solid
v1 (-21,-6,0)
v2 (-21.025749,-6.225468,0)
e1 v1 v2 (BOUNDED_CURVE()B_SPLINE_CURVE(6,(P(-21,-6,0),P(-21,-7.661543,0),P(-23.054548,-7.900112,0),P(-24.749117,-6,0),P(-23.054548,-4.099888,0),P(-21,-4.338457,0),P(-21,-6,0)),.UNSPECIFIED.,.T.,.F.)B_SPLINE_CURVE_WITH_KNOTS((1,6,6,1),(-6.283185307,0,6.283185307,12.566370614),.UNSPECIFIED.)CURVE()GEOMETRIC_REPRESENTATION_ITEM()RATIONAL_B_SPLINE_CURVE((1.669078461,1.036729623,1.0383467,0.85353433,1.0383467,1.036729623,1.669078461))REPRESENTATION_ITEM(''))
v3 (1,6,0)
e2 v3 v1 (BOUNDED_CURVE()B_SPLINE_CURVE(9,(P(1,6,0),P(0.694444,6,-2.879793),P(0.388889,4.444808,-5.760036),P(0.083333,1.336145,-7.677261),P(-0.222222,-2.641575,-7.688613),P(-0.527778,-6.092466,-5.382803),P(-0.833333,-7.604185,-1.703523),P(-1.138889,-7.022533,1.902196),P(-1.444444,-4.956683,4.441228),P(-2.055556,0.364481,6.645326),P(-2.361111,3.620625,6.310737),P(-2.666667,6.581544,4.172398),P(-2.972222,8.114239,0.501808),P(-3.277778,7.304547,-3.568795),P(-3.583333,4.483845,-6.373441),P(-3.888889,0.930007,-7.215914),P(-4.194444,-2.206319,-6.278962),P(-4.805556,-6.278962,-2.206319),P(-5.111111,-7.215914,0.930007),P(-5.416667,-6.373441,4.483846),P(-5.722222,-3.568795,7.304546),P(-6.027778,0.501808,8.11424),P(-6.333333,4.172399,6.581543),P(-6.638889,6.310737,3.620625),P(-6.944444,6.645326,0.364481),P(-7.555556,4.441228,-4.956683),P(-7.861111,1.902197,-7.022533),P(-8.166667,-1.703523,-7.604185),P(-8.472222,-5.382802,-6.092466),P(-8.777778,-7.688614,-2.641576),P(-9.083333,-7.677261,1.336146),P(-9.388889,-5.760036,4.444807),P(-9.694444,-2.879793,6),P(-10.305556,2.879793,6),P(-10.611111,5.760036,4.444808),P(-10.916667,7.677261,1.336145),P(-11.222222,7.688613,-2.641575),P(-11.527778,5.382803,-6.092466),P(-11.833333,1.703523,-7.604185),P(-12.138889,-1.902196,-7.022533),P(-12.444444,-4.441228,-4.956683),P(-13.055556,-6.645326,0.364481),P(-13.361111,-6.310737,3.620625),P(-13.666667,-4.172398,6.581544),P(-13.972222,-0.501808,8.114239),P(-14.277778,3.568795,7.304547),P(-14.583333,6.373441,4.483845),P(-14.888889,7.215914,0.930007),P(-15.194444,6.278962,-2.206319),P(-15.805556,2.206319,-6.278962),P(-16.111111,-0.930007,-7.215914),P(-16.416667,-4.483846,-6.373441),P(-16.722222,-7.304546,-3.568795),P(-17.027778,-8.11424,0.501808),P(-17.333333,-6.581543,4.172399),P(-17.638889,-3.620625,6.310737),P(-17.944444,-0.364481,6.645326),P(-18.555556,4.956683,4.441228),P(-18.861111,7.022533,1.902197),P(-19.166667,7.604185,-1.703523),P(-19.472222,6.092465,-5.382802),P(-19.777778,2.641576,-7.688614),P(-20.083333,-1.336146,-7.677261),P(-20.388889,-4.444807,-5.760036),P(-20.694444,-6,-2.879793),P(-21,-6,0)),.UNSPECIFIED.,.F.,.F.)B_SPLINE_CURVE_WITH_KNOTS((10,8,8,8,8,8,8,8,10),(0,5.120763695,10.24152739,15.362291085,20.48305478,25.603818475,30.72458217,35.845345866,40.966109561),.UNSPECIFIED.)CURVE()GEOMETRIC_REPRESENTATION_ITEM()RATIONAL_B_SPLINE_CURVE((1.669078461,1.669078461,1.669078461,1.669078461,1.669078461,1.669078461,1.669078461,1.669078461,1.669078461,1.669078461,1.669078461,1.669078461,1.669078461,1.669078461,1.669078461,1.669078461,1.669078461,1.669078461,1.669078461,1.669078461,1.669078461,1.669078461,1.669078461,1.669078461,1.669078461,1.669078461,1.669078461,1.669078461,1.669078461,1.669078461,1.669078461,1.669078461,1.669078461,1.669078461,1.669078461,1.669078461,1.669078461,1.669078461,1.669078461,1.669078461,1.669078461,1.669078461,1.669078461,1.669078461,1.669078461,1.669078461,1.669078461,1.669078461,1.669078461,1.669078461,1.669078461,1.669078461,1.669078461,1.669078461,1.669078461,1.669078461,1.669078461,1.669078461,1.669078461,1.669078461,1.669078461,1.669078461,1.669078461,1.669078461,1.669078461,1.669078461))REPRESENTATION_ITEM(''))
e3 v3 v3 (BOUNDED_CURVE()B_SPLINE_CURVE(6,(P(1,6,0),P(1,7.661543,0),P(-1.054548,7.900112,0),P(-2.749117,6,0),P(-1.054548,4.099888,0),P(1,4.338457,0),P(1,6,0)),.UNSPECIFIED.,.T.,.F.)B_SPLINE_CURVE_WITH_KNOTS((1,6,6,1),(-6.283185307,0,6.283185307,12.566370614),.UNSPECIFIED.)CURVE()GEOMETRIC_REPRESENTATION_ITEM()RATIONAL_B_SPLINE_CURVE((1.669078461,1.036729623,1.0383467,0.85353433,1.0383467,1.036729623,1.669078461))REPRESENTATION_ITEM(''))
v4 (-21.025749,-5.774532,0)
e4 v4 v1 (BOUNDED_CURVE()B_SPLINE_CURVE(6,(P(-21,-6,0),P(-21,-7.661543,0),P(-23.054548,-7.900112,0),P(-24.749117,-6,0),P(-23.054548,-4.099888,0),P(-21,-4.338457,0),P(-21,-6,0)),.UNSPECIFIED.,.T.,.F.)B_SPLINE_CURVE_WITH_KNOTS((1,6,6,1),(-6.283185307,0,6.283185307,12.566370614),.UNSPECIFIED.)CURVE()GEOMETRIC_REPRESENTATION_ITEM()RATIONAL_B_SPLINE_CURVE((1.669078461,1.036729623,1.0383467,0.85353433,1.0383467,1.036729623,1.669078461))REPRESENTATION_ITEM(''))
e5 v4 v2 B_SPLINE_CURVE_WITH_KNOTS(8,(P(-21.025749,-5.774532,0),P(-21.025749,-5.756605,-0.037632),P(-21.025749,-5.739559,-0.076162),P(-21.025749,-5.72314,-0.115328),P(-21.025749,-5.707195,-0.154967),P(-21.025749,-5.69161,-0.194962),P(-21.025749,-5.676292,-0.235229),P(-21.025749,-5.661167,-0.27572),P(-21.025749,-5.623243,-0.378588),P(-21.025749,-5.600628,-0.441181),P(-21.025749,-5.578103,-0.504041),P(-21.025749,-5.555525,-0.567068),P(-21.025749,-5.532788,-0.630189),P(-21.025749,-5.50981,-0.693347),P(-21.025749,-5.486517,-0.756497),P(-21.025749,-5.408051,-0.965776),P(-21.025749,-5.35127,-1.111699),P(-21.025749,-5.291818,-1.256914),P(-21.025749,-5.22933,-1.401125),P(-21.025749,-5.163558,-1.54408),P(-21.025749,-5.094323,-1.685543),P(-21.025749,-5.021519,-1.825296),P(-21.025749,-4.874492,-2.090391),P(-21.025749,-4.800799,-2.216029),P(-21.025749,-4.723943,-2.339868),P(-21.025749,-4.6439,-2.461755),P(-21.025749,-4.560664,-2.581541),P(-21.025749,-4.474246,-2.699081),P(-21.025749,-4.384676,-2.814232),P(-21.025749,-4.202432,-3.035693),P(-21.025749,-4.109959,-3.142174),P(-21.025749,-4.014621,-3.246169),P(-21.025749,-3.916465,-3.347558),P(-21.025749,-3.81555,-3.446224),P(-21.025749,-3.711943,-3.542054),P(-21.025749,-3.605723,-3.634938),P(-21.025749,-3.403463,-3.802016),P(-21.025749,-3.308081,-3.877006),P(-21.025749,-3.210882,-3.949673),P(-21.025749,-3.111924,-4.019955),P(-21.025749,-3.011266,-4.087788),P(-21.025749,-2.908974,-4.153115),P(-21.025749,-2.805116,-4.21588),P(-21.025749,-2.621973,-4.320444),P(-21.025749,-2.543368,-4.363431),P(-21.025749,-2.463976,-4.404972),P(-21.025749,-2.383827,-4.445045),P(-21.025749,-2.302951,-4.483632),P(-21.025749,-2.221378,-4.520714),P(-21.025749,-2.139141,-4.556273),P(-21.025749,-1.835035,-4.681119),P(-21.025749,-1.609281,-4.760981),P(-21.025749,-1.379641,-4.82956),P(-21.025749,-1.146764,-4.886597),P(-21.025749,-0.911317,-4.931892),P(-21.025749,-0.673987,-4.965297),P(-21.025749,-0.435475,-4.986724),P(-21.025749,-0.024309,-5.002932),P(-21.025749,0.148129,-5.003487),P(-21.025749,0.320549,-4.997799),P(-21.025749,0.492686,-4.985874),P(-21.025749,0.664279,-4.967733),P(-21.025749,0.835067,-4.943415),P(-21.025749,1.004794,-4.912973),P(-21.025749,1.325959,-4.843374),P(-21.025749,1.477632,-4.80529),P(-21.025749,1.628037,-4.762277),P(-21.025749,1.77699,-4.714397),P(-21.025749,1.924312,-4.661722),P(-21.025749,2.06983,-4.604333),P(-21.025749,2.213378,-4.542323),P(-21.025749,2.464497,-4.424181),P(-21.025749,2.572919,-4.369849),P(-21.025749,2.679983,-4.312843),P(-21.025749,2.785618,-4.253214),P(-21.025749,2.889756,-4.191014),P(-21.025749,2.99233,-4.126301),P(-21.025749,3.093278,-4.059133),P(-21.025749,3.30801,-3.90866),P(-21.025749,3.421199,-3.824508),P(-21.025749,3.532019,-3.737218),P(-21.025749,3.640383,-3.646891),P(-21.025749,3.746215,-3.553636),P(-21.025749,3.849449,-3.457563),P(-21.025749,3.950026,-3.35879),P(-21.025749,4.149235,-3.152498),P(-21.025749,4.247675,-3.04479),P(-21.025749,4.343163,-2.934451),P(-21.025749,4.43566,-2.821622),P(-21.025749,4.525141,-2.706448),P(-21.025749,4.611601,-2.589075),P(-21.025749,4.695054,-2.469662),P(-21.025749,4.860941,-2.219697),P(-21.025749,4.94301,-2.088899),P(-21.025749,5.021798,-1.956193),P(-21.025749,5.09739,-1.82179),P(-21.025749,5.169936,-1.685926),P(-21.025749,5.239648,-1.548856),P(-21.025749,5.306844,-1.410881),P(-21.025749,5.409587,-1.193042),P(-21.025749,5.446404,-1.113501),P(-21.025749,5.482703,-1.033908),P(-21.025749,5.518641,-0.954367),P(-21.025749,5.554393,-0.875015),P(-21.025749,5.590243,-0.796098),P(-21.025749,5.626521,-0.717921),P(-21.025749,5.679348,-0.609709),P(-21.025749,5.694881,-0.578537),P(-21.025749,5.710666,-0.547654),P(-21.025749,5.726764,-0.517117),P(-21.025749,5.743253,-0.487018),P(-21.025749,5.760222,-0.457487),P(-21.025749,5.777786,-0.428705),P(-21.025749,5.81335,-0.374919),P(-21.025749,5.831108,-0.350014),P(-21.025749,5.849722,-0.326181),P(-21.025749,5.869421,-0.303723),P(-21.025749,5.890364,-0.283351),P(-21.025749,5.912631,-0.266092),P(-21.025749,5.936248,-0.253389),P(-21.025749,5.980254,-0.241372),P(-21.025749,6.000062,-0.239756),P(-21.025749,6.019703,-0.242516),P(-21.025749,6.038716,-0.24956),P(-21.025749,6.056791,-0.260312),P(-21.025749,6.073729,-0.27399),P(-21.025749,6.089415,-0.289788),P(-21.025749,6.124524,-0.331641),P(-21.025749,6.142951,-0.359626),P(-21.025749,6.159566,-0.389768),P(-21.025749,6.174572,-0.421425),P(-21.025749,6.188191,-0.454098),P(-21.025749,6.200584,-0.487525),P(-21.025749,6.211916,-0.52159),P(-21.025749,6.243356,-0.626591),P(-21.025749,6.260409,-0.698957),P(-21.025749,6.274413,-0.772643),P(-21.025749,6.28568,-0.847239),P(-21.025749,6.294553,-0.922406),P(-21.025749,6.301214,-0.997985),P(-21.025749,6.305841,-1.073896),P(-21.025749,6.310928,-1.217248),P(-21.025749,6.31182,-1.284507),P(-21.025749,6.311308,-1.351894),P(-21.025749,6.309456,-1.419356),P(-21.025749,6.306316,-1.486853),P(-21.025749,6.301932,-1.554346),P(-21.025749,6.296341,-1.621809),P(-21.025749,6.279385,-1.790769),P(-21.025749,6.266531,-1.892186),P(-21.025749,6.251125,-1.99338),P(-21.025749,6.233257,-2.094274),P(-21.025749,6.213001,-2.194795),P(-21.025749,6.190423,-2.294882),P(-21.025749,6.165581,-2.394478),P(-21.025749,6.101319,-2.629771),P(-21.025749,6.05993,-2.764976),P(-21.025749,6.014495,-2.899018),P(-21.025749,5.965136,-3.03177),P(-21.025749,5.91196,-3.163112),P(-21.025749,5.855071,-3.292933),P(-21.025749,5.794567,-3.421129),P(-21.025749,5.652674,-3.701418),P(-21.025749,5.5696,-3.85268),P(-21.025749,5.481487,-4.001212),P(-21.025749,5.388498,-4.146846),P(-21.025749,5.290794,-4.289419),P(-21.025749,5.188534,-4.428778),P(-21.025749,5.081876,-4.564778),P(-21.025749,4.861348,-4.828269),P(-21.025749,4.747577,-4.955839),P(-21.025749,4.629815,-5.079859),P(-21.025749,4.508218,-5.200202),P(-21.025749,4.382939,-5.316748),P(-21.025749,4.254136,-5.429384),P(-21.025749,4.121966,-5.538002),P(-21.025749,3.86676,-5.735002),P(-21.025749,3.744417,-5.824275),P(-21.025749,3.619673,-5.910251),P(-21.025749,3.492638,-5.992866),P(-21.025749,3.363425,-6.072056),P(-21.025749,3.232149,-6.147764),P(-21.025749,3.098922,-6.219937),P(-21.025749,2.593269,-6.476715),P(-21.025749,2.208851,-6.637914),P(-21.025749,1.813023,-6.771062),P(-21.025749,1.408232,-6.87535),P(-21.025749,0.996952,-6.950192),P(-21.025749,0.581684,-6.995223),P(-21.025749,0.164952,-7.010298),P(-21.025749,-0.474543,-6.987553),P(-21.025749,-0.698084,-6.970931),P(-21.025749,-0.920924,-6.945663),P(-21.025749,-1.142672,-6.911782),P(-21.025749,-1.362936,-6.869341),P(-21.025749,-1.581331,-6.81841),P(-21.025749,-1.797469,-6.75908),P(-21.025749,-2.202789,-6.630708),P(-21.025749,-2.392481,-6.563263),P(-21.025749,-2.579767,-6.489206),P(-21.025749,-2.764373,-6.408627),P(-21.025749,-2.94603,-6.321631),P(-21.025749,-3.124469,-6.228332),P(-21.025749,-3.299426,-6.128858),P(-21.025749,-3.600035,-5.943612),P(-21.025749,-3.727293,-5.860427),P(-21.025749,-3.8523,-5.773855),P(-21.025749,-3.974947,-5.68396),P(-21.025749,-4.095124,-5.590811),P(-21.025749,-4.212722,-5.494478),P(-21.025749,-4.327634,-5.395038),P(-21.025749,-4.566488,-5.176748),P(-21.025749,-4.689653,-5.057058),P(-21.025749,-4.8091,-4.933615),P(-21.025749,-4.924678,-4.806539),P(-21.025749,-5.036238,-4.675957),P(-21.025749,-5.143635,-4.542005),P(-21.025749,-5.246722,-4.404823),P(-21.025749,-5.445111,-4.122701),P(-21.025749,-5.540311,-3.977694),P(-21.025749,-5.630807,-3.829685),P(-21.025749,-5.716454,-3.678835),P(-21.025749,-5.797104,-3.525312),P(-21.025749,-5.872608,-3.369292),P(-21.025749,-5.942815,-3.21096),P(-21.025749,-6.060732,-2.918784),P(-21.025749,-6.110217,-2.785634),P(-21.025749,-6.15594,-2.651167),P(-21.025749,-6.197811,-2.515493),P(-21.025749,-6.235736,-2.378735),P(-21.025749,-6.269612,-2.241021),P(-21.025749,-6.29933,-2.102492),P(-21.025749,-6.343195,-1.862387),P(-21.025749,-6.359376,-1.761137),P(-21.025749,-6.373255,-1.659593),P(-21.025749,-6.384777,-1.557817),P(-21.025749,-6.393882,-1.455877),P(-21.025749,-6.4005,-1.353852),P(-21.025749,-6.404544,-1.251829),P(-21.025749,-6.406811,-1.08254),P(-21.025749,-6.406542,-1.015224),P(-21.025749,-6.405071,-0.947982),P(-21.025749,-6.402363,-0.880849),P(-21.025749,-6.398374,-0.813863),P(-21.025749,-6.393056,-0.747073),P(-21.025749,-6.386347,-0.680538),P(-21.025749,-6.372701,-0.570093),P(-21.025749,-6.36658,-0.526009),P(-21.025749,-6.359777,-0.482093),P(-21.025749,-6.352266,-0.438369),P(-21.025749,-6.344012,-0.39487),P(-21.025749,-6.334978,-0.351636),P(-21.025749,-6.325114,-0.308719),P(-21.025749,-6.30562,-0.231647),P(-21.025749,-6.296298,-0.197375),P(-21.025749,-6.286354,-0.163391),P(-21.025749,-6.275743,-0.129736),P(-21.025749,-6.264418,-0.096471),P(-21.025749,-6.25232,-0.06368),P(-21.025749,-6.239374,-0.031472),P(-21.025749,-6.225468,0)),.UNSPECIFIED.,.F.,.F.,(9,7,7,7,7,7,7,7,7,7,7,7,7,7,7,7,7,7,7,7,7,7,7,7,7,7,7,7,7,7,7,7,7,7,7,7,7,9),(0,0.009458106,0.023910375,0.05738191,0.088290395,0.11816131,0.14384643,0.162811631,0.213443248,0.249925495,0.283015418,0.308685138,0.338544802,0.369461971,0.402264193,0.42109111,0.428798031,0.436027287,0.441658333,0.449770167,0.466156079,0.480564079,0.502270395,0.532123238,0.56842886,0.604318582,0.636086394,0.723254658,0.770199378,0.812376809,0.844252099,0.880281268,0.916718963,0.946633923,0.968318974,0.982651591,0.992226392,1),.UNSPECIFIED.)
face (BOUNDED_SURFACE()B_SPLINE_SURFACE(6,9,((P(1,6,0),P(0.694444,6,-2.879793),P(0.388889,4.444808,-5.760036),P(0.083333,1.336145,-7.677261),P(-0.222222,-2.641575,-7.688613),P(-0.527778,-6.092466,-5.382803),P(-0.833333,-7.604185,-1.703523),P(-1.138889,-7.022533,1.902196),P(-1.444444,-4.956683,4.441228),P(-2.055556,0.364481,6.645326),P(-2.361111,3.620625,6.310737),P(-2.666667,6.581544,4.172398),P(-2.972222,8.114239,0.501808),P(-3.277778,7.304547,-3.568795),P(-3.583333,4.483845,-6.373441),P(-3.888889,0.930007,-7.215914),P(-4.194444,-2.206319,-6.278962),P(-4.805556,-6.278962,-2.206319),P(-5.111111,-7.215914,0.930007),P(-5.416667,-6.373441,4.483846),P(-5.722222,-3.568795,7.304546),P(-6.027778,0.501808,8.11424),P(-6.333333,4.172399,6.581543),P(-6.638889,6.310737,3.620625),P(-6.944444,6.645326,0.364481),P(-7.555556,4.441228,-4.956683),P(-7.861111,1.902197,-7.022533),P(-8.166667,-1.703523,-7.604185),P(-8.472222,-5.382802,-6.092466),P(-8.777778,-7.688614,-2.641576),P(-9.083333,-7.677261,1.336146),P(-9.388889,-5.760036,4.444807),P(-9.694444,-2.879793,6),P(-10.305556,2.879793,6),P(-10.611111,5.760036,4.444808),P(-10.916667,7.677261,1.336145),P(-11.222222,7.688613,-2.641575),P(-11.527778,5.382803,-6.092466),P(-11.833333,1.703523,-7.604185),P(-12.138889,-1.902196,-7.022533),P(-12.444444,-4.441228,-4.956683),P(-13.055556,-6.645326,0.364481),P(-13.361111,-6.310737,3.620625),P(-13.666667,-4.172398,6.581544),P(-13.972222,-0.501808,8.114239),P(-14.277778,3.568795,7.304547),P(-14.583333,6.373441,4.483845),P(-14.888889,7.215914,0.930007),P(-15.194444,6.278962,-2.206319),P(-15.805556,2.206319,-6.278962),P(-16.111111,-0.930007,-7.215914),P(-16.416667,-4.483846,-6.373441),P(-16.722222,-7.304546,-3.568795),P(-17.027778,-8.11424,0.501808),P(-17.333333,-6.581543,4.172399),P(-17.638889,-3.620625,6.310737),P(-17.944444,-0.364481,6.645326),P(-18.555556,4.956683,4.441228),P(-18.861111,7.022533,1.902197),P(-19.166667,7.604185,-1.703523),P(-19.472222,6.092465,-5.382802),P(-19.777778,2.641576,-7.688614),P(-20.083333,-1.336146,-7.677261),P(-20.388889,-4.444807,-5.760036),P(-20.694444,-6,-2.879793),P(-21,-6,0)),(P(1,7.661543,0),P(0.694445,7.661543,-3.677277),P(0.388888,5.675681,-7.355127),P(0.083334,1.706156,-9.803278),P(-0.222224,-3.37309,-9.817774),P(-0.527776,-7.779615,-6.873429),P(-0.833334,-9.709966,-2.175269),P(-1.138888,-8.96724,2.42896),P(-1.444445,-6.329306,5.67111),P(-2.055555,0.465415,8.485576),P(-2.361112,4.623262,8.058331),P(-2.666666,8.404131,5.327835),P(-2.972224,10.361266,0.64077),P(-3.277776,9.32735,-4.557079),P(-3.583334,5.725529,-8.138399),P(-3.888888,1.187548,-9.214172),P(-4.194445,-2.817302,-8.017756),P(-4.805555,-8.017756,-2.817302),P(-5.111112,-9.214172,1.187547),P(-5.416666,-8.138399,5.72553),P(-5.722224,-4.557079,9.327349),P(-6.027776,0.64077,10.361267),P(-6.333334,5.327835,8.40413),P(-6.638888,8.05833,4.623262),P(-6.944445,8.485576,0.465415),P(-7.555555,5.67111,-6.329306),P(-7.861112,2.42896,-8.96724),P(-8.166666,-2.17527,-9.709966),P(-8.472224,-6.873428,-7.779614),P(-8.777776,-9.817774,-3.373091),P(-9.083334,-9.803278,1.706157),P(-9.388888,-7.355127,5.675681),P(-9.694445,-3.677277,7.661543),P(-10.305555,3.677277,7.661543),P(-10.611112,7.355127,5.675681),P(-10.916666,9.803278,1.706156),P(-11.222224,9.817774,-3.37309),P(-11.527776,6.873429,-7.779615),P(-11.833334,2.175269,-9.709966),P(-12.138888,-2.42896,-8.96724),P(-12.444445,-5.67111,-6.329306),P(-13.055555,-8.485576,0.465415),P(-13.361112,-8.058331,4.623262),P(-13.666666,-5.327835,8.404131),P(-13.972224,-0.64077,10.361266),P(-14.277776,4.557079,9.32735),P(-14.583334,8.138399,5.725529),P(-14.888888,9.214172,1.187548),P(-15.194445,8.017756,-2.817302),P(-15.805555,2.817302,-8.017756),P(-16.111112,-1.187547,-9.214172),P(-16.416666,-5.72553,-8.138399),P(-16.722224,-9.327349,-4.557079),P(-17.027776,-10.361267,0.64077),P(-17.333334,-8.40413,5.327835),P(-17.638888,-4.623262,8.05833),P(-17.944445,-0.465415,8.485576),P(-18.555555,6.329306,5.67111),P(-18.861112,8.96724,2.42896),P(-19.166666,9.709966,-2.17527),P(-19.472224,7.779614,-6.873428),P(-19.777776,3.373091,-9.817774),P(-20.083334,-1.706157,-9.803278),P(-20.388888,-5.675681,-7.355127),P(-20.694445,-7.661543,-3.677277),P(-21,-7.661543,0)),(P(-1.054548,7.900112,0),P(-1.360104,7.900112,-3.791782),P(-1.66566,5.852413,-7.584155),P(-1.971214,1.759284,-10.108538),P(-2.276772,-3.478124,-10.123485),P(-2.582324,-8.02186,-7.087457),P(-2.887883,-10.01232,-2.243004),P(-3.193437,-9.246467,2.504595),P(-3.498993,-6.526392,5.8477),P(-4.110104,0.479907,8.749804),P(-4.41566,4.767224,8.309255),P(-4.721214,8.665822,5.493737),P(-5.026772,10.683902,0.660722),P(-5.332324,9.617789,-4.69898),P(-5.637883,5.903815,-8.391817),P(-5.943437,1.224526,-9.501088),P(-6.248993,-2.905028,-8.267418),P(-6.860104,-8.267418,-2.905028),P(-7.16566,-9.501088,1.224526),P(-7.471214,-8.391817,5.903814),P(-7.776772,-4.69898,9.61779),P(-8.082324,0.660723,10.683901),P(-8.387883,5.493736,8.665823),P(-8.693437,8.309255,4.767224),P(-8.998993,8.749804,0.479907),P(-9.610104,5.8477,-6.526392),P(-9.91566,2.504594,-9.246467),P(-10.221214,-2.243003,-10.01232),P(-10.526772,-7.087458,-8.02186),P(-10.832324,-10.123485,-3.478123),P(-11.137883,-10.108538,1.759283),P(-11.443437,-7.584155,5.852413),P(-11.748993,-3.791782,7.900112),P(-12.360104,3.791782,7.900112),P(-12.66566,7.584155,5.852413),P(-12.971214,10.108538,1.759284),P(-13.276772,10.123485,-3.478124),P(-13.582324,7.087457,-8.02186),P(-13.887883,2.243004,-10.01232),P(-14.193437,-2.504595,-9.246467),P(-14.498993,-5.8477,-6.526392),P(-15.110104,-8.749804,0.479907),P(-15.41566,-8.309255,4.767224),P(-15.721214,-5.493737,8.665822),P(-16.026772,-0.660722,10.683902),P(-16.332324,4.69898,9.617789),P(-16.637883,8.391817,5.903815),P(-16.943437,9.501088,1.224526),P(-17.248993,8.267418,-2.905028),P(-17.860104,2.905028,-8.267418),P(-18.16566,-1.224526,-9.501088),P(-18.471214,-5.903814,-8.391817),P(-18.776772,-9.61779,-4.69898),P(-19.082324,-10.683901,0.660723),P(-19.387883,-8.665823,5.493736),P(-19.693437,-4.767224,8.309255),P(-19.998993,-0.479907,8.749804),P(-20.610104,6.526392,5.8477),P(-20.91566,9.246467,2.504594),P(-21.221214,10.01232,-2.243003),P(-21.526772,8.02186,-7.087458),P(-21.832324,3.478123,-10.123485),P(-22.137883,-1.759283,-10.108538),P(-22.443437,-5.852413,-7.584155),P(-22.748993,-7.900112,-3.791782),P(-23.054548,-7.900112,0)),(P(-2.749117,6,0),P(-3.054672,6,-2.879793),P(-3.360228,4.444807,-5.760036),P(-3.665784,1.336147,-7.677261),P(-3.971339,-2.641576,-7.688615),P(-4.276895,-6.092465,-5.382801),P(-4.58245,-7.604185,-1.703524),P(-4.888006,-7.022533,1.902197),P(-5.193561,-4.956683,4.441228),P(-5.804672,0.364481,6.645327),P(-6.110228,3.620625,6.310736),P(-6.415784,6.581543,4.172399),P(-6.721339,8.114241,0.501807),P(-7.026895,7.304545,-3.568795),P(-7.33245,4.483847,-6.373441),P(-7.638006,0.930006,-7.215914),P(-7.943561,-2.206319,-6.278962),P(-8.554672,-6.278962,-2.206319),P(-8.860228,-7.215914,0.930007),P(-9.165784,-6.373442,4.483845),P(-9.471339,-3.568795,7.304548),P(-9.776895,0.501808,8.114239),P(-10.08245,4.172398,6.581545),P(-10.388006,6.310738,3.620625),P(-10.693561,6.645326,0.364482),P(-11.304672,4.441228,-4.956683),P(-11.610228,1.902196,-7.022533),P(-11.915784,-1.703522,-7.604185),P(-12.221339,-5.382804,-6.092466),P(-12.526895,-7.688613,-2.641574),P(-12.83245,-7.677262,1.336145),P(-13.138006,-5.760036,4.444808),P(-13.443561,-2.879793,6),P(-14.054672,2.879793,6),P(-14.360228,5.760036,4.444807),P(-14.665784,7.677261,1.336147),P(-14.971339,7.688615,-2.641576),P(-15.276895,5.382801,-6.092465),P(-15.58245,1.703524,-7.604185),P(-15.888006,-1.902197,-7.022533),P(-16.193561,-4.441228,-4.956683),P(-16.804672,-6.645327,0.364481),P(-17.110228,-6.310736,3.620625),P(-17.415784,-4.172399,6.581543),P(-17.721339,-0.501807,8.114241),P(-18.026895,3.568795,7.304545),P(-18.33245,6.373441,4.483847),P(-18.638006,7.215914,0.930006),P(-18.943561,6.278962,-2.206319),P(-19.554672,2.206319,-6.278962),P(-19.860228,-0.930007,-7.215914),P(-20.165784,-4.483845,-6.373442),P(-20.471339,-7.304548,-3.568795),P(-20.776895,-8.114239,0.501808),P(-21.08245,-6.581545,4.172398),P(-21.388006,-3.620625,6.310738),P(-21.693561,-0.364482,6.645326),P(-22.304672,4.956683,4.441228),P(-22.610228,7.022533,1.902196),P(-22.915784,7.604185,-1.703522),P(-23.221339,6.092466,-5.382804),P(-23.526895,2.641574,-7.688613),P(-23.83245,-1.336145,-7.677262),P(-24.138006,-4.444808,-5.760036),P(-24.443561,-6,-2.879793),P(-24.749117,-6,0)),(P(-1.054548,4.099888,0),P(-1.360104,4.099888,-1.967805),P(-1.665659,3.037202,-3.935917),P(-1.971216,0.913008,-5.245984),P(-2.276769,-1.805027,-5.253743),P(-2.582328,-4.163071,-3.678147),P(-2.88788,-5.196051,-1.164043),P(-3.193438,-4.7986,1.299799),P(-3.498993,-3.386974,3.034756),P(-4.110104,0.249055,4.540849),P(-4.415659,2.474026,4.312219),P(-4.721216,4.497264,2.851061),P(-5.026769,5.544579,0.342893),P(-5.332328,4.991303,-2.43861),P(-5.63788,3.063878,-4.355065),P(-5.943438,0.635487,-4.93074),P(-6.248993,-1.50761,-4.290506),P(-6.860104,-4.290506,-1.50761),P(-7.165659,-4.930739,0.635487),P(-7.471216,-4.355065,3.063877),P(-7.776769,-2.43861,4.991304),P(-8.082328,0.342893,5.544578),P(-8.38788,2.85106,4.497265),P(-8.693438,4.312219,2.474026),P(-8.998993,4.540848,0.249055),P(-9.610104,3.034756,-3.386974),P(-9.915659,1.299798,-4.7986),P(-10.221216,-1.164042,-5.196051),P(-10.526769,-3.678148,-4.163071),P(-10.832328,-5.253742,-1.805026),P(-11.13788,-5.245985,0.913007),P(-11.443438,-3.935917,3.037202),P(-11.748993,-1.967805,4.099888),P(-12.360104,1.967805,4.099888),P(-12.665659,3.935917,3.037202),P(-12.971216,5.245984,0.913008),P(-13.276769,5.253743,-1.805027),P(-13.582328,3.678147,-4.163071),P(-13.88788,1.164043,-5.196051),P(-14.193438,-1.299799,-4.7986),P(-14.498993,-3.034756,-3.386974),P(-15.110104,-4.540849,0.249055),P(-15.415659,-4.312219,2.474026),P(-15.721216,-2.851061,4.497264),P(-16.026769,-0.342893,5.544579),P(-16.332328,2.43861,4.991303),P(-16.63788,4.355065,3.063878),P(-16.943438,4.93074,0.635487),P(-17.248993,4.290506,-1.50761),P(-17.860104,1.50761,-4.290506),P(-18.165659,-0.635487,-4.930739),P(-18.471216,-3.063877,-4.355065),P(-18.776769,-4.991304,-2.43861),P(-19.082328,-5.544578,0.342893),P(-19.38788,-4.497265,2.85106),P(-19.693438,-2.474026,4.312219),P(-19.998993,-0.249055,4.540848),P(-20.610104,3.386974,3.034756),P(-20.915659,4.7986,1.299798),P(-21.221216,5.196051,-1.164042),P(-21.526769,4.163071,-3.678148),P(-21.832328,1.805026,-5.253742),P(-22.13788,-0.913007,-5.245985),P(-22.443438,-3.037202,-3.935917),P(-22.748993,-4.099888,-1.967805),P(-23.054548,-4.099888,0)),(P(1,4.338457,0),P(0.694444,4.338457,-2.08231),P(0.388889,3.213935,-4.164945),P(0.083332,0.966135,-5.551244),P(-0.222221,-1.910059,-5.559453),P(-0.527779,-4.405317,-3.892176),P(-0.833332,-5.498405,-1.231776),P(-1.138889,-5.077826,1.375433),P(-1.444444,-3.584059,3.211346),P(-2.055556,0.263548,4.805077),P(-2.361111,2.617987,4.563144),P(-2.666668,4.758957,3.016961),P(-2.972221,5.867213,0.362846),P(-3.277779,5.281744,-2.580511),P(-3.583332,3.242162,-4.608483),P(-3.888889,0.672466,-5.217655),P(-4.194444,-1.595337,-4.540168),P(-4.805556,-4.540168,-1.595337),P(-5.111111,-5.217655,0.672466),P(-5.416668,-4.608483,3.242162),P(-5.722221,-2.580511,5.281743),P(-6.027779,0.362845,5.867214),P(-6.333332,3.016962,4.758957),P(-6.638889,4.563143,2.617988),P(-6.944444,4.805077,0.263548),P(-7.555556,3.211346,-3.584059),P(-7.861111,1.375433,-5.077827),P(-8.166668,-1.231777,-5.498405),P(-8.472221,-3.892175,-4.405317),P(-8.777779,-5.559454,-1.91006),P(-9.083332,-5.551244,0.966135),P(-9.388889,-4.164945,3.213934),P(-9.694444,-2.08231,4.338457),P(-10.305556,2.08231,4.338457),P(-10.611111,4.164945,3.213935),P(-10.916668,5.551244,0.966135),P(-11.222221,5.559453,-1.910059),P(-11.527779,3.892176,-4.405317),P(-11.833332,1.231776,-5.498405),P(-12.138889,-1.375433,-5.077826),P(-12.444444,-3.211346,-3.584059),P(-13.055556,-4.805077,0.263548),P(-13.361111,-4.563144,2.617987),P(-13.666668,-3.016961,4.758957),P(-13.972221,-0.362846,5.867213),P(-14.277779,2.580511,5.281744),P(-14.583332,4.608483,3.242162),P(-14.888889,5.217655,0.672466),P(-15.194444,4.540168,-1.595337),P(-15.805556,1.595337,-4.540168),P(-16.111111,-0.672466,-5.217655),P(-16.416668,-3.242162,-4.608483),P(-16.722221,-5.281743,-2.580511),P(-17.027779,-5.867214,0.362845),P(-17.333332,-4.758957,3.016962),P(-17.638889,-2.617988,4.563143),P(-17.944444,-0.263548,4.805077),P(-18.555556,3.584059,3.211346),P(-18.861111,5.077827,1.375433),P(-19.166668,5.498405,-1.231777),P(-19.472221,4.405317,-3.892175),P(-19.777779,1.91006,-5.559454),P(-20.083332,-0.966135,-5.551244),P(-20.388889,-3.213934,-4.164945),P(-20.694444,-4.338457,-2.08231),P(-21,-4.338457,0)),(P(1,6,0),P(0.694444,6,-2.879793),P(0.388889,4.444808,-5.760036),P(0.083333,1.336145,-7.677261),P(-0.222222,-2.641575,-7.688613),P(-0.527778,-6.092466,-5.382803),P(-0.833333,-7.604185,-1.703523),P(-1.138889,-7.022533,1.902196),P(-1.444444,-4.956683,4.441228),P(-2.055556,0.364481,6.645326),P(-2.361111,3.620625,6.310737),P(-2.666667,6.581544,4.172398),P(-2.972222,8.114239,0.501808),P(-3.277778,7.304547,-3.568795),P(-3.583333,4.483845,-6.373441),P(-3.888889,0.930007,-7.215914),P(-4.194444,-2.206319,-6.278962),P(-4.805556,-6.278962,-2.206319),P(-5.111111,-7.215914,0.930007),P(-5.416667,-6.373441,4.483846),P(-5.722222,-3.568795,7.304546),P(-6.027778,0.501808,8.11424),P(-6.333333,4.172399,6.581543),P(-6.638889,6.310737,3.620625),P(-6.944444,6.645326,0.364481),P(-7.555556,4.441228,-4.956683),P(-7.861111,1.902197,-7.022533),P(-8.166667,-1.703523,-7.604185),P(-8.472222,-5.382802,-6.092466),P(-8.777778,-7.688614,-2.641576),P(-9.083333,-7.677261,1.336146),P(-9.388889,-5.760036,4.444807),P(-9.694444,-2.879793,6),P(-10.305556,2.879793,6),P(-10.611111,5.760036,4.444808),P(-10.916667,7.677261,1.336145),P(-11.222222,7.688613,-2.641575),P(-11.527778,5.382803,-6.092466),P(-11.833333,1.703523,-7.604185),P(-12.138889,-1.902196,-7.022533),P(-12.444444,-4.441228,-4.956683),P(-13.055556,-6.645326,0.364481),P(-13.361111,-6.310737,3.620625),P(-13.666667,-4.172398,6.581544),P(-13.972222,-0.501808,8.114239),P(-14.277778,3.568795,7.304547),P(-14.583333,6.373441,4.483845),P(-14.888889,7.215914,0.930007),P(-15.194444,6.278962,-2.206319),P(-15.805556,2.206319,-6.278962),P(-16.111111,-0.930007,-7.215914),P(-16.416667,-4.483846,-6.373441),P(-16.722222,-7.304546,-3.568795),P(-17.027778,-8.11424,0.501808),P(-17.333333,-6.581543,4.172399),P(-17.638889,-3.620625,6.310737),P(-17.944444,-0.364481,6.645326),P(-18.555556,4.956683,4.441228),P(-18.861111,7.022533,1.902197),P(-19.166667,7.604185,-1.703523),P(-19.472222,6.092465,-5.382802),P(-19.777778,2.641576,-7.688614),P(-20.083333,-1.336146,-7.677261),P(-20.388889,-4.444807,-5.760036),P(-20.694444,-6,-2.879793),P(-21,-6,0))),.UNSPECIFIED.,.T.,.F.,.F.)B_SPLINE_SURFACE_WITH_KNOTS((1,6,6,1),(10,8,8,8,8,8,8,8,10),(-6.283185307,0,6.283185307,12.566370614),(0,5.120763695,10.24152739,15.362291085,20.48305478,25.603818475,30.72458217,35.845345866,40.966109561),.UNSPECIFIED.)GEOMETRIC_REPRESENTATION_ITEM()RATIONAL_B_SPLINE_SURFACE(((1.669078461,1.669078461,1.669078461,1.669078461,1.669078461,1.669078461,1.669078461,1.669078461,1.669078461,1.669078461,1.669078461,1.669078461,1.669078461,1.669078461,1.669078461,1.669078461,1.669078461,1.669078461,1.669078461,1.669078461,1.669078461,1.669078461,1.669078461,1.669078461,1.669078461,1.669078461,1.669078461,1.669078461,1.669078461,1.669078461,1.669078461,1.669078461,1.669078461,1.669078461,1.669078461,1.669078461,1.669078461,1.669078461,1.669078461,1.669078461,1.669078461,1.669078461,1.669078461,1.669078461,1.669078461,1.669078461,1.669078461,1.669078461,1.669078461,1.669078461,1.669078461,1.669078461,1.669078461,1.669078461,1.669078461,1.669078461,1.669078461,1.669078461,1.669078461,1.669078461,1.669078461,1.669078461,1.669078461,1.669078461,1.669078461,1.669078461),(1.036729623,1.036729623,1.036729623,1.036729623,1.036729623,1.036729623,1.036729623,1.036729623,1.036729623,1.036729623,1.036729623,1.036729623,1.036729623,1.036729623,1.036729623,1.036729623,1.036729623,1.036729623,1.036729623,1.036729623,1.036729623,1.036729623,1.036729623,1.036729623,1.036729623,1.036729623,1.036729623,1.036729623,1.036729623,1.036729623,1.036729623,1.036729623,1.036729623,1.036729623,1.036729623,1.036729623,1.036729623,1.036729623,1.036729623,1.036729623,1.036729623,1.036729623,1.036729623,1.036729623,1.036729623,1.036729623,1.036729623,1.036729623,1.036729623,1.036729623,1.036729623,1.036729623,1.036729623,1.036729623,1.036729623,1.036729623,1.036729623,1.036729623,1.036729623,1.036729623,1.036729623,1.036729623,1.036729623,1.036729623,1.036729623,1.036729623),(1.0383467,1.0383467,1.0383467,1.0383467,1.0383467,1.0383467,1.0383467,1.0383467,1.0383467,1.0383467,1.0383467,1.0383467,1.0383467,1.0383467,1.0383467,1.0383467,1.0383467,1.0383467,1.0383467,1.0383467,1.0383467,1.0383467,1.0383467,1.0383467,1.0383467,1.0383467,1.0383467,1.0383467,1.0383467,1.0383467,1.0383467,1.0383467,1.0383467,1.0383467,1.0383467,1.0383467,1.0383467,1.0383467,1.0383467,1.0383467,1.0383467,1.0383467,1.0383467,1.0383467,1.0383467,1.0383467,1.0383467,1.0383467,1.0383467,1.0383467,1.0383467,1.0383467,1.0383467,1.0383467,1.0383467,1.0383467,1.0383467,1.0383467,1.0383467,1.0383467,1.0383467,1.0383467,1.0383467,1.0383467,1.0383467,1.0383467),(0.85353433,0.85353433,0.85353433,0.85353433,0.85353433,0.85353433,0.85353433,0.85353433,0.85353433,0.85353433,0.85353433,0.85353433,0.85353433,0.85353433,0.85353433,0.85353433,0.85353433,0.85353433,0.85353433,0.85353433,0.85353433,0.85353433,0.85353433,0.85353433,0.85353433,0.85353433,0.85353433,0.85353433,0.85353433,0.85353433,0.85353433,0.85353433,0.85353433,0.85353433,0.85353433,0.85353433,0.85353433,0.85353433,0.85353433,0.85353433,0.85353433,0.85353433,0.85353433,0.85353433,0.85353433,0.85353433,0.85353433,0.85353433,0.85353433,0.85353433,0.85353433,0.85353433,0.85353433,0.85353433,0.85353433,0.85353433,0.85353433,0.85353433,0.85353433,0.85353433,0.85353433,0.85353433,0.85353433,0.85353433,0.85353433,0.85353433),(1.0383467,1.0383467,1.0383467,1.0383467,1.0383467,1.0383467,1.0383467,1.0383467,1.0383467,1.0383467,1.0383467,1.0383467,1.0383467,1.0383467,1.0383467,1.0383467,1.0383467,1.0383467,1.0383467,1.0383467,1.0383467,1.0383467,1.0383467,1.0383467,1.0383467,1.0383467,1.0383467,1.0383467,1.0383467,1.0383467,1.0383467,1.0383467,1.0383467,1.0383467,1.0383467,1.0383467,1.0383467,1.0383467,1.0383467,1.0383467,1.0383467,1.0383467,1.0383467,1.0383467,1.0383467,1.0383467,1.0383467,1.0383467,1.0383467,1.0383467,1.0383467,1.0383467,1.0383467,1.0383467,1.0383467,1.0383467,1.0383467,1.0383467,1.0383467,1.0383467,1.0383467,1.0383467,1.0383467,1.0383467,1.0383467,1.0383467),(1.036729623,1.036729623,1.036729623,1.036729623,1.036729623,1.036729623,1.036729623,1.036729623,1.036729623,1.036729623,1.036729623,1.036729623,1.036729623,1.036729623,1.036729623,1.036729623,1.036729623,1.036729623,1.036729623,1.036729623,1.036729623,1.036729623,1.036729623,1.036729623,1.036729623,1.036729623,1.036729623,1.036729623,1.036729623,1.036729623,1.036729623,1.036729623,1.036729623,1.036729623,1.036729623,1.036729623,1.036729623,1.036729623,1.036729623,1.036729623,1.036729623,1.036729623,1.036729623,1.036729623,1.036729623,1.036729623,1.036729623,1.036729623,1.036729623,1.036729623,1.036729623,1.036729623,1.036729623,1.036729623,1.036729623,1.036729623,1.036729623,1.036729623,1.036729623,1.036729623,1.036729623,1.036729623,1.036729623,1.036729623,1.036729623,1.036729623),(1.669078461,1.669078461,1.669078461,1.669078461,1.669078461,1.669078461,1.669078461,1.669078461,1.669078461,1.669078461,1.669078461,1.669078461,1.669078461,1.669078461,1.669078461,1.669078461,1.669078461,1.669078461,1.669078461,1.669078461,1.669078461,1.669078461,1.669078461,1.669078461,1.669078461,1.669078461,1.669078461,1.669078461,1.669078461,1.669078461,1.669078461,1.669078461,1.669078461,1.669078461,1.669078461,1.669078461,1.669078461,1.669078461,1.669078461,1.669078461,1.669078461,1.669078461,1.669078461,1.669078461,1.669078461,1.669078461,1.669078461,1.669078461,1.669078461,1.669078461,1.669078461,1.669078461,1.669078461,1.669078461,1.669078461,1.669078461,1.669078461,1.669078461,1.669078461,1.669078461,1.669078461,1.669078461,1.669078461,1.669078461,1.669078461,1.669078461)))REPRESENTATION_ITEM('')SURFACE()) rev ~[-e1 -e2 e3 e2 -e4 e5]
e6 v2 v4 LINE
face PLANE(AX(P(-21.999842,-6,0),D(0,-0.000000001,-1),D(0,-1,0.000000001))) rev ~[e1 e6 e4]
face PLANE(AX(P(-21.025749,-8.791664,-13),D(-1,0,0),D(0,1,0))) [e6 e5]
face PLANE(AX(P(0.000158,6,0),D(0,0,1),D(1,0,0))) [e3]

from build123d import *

# Parameters (mm, degrees)
VARREDURA1_PITCH           = 4
VARREDURA1_HEIGHT          = 22
VARREDURA1_RADIUS          = 6
VARREDURA1_START_ANGLE     = -90
ESBO_O3_R                  = 1
CORTE_EXTRUS_O1_DEPTH      = 23
CORTE_EXTRUS_O1_DEPTH_BACK = 13
ESBO_O4_W                  = 3.095344301
ESBO_O4_H                  = 18.16184874


with BuildPart() as part:
    # Varredura1: sweep along a helix
    with BuildLine() as varredura1_path:
        add(Helix(VARREDURA1_PITCH, VARREDURA1_HEIGHT, VARREDURA1_RADIUS, center=(0, 0, 0), direction=(-1, 0, 0), mode=Mode.PRIVATE).rotate(Axis((0, 0, 0), (-1, 0, 0)), VARREDURA1_START_ANGLE))
    # Esboço3 → Varredura1 (sweep)
    with BuildSketch(Plane.XY):
        with Locations((0, 6)):
            Circle(ESBO_O3_R)
    sweep(path=varredura1_path.line, is_frenet=True)

    # Esboço4 → Corte-extrusão1 (cut, two sides: drawn at the far end of the back side and taken through both)
    with BuildSketch(Plane.XY.offset(-CORTE_EXTRUS_O1_DEPTH_BACK)):
        with Locations((-22.573421464, 0.28926043)):
            Rectangle(ESBO_O4_W, ESBO_O4_H)
    extrude(amount=CORTE_EXTRUS_O1_DEPTH + CORTE_EXTRUS_O1_DEPTH_BACK, mode=Mode.SUBTRACT)


solid = part.part
